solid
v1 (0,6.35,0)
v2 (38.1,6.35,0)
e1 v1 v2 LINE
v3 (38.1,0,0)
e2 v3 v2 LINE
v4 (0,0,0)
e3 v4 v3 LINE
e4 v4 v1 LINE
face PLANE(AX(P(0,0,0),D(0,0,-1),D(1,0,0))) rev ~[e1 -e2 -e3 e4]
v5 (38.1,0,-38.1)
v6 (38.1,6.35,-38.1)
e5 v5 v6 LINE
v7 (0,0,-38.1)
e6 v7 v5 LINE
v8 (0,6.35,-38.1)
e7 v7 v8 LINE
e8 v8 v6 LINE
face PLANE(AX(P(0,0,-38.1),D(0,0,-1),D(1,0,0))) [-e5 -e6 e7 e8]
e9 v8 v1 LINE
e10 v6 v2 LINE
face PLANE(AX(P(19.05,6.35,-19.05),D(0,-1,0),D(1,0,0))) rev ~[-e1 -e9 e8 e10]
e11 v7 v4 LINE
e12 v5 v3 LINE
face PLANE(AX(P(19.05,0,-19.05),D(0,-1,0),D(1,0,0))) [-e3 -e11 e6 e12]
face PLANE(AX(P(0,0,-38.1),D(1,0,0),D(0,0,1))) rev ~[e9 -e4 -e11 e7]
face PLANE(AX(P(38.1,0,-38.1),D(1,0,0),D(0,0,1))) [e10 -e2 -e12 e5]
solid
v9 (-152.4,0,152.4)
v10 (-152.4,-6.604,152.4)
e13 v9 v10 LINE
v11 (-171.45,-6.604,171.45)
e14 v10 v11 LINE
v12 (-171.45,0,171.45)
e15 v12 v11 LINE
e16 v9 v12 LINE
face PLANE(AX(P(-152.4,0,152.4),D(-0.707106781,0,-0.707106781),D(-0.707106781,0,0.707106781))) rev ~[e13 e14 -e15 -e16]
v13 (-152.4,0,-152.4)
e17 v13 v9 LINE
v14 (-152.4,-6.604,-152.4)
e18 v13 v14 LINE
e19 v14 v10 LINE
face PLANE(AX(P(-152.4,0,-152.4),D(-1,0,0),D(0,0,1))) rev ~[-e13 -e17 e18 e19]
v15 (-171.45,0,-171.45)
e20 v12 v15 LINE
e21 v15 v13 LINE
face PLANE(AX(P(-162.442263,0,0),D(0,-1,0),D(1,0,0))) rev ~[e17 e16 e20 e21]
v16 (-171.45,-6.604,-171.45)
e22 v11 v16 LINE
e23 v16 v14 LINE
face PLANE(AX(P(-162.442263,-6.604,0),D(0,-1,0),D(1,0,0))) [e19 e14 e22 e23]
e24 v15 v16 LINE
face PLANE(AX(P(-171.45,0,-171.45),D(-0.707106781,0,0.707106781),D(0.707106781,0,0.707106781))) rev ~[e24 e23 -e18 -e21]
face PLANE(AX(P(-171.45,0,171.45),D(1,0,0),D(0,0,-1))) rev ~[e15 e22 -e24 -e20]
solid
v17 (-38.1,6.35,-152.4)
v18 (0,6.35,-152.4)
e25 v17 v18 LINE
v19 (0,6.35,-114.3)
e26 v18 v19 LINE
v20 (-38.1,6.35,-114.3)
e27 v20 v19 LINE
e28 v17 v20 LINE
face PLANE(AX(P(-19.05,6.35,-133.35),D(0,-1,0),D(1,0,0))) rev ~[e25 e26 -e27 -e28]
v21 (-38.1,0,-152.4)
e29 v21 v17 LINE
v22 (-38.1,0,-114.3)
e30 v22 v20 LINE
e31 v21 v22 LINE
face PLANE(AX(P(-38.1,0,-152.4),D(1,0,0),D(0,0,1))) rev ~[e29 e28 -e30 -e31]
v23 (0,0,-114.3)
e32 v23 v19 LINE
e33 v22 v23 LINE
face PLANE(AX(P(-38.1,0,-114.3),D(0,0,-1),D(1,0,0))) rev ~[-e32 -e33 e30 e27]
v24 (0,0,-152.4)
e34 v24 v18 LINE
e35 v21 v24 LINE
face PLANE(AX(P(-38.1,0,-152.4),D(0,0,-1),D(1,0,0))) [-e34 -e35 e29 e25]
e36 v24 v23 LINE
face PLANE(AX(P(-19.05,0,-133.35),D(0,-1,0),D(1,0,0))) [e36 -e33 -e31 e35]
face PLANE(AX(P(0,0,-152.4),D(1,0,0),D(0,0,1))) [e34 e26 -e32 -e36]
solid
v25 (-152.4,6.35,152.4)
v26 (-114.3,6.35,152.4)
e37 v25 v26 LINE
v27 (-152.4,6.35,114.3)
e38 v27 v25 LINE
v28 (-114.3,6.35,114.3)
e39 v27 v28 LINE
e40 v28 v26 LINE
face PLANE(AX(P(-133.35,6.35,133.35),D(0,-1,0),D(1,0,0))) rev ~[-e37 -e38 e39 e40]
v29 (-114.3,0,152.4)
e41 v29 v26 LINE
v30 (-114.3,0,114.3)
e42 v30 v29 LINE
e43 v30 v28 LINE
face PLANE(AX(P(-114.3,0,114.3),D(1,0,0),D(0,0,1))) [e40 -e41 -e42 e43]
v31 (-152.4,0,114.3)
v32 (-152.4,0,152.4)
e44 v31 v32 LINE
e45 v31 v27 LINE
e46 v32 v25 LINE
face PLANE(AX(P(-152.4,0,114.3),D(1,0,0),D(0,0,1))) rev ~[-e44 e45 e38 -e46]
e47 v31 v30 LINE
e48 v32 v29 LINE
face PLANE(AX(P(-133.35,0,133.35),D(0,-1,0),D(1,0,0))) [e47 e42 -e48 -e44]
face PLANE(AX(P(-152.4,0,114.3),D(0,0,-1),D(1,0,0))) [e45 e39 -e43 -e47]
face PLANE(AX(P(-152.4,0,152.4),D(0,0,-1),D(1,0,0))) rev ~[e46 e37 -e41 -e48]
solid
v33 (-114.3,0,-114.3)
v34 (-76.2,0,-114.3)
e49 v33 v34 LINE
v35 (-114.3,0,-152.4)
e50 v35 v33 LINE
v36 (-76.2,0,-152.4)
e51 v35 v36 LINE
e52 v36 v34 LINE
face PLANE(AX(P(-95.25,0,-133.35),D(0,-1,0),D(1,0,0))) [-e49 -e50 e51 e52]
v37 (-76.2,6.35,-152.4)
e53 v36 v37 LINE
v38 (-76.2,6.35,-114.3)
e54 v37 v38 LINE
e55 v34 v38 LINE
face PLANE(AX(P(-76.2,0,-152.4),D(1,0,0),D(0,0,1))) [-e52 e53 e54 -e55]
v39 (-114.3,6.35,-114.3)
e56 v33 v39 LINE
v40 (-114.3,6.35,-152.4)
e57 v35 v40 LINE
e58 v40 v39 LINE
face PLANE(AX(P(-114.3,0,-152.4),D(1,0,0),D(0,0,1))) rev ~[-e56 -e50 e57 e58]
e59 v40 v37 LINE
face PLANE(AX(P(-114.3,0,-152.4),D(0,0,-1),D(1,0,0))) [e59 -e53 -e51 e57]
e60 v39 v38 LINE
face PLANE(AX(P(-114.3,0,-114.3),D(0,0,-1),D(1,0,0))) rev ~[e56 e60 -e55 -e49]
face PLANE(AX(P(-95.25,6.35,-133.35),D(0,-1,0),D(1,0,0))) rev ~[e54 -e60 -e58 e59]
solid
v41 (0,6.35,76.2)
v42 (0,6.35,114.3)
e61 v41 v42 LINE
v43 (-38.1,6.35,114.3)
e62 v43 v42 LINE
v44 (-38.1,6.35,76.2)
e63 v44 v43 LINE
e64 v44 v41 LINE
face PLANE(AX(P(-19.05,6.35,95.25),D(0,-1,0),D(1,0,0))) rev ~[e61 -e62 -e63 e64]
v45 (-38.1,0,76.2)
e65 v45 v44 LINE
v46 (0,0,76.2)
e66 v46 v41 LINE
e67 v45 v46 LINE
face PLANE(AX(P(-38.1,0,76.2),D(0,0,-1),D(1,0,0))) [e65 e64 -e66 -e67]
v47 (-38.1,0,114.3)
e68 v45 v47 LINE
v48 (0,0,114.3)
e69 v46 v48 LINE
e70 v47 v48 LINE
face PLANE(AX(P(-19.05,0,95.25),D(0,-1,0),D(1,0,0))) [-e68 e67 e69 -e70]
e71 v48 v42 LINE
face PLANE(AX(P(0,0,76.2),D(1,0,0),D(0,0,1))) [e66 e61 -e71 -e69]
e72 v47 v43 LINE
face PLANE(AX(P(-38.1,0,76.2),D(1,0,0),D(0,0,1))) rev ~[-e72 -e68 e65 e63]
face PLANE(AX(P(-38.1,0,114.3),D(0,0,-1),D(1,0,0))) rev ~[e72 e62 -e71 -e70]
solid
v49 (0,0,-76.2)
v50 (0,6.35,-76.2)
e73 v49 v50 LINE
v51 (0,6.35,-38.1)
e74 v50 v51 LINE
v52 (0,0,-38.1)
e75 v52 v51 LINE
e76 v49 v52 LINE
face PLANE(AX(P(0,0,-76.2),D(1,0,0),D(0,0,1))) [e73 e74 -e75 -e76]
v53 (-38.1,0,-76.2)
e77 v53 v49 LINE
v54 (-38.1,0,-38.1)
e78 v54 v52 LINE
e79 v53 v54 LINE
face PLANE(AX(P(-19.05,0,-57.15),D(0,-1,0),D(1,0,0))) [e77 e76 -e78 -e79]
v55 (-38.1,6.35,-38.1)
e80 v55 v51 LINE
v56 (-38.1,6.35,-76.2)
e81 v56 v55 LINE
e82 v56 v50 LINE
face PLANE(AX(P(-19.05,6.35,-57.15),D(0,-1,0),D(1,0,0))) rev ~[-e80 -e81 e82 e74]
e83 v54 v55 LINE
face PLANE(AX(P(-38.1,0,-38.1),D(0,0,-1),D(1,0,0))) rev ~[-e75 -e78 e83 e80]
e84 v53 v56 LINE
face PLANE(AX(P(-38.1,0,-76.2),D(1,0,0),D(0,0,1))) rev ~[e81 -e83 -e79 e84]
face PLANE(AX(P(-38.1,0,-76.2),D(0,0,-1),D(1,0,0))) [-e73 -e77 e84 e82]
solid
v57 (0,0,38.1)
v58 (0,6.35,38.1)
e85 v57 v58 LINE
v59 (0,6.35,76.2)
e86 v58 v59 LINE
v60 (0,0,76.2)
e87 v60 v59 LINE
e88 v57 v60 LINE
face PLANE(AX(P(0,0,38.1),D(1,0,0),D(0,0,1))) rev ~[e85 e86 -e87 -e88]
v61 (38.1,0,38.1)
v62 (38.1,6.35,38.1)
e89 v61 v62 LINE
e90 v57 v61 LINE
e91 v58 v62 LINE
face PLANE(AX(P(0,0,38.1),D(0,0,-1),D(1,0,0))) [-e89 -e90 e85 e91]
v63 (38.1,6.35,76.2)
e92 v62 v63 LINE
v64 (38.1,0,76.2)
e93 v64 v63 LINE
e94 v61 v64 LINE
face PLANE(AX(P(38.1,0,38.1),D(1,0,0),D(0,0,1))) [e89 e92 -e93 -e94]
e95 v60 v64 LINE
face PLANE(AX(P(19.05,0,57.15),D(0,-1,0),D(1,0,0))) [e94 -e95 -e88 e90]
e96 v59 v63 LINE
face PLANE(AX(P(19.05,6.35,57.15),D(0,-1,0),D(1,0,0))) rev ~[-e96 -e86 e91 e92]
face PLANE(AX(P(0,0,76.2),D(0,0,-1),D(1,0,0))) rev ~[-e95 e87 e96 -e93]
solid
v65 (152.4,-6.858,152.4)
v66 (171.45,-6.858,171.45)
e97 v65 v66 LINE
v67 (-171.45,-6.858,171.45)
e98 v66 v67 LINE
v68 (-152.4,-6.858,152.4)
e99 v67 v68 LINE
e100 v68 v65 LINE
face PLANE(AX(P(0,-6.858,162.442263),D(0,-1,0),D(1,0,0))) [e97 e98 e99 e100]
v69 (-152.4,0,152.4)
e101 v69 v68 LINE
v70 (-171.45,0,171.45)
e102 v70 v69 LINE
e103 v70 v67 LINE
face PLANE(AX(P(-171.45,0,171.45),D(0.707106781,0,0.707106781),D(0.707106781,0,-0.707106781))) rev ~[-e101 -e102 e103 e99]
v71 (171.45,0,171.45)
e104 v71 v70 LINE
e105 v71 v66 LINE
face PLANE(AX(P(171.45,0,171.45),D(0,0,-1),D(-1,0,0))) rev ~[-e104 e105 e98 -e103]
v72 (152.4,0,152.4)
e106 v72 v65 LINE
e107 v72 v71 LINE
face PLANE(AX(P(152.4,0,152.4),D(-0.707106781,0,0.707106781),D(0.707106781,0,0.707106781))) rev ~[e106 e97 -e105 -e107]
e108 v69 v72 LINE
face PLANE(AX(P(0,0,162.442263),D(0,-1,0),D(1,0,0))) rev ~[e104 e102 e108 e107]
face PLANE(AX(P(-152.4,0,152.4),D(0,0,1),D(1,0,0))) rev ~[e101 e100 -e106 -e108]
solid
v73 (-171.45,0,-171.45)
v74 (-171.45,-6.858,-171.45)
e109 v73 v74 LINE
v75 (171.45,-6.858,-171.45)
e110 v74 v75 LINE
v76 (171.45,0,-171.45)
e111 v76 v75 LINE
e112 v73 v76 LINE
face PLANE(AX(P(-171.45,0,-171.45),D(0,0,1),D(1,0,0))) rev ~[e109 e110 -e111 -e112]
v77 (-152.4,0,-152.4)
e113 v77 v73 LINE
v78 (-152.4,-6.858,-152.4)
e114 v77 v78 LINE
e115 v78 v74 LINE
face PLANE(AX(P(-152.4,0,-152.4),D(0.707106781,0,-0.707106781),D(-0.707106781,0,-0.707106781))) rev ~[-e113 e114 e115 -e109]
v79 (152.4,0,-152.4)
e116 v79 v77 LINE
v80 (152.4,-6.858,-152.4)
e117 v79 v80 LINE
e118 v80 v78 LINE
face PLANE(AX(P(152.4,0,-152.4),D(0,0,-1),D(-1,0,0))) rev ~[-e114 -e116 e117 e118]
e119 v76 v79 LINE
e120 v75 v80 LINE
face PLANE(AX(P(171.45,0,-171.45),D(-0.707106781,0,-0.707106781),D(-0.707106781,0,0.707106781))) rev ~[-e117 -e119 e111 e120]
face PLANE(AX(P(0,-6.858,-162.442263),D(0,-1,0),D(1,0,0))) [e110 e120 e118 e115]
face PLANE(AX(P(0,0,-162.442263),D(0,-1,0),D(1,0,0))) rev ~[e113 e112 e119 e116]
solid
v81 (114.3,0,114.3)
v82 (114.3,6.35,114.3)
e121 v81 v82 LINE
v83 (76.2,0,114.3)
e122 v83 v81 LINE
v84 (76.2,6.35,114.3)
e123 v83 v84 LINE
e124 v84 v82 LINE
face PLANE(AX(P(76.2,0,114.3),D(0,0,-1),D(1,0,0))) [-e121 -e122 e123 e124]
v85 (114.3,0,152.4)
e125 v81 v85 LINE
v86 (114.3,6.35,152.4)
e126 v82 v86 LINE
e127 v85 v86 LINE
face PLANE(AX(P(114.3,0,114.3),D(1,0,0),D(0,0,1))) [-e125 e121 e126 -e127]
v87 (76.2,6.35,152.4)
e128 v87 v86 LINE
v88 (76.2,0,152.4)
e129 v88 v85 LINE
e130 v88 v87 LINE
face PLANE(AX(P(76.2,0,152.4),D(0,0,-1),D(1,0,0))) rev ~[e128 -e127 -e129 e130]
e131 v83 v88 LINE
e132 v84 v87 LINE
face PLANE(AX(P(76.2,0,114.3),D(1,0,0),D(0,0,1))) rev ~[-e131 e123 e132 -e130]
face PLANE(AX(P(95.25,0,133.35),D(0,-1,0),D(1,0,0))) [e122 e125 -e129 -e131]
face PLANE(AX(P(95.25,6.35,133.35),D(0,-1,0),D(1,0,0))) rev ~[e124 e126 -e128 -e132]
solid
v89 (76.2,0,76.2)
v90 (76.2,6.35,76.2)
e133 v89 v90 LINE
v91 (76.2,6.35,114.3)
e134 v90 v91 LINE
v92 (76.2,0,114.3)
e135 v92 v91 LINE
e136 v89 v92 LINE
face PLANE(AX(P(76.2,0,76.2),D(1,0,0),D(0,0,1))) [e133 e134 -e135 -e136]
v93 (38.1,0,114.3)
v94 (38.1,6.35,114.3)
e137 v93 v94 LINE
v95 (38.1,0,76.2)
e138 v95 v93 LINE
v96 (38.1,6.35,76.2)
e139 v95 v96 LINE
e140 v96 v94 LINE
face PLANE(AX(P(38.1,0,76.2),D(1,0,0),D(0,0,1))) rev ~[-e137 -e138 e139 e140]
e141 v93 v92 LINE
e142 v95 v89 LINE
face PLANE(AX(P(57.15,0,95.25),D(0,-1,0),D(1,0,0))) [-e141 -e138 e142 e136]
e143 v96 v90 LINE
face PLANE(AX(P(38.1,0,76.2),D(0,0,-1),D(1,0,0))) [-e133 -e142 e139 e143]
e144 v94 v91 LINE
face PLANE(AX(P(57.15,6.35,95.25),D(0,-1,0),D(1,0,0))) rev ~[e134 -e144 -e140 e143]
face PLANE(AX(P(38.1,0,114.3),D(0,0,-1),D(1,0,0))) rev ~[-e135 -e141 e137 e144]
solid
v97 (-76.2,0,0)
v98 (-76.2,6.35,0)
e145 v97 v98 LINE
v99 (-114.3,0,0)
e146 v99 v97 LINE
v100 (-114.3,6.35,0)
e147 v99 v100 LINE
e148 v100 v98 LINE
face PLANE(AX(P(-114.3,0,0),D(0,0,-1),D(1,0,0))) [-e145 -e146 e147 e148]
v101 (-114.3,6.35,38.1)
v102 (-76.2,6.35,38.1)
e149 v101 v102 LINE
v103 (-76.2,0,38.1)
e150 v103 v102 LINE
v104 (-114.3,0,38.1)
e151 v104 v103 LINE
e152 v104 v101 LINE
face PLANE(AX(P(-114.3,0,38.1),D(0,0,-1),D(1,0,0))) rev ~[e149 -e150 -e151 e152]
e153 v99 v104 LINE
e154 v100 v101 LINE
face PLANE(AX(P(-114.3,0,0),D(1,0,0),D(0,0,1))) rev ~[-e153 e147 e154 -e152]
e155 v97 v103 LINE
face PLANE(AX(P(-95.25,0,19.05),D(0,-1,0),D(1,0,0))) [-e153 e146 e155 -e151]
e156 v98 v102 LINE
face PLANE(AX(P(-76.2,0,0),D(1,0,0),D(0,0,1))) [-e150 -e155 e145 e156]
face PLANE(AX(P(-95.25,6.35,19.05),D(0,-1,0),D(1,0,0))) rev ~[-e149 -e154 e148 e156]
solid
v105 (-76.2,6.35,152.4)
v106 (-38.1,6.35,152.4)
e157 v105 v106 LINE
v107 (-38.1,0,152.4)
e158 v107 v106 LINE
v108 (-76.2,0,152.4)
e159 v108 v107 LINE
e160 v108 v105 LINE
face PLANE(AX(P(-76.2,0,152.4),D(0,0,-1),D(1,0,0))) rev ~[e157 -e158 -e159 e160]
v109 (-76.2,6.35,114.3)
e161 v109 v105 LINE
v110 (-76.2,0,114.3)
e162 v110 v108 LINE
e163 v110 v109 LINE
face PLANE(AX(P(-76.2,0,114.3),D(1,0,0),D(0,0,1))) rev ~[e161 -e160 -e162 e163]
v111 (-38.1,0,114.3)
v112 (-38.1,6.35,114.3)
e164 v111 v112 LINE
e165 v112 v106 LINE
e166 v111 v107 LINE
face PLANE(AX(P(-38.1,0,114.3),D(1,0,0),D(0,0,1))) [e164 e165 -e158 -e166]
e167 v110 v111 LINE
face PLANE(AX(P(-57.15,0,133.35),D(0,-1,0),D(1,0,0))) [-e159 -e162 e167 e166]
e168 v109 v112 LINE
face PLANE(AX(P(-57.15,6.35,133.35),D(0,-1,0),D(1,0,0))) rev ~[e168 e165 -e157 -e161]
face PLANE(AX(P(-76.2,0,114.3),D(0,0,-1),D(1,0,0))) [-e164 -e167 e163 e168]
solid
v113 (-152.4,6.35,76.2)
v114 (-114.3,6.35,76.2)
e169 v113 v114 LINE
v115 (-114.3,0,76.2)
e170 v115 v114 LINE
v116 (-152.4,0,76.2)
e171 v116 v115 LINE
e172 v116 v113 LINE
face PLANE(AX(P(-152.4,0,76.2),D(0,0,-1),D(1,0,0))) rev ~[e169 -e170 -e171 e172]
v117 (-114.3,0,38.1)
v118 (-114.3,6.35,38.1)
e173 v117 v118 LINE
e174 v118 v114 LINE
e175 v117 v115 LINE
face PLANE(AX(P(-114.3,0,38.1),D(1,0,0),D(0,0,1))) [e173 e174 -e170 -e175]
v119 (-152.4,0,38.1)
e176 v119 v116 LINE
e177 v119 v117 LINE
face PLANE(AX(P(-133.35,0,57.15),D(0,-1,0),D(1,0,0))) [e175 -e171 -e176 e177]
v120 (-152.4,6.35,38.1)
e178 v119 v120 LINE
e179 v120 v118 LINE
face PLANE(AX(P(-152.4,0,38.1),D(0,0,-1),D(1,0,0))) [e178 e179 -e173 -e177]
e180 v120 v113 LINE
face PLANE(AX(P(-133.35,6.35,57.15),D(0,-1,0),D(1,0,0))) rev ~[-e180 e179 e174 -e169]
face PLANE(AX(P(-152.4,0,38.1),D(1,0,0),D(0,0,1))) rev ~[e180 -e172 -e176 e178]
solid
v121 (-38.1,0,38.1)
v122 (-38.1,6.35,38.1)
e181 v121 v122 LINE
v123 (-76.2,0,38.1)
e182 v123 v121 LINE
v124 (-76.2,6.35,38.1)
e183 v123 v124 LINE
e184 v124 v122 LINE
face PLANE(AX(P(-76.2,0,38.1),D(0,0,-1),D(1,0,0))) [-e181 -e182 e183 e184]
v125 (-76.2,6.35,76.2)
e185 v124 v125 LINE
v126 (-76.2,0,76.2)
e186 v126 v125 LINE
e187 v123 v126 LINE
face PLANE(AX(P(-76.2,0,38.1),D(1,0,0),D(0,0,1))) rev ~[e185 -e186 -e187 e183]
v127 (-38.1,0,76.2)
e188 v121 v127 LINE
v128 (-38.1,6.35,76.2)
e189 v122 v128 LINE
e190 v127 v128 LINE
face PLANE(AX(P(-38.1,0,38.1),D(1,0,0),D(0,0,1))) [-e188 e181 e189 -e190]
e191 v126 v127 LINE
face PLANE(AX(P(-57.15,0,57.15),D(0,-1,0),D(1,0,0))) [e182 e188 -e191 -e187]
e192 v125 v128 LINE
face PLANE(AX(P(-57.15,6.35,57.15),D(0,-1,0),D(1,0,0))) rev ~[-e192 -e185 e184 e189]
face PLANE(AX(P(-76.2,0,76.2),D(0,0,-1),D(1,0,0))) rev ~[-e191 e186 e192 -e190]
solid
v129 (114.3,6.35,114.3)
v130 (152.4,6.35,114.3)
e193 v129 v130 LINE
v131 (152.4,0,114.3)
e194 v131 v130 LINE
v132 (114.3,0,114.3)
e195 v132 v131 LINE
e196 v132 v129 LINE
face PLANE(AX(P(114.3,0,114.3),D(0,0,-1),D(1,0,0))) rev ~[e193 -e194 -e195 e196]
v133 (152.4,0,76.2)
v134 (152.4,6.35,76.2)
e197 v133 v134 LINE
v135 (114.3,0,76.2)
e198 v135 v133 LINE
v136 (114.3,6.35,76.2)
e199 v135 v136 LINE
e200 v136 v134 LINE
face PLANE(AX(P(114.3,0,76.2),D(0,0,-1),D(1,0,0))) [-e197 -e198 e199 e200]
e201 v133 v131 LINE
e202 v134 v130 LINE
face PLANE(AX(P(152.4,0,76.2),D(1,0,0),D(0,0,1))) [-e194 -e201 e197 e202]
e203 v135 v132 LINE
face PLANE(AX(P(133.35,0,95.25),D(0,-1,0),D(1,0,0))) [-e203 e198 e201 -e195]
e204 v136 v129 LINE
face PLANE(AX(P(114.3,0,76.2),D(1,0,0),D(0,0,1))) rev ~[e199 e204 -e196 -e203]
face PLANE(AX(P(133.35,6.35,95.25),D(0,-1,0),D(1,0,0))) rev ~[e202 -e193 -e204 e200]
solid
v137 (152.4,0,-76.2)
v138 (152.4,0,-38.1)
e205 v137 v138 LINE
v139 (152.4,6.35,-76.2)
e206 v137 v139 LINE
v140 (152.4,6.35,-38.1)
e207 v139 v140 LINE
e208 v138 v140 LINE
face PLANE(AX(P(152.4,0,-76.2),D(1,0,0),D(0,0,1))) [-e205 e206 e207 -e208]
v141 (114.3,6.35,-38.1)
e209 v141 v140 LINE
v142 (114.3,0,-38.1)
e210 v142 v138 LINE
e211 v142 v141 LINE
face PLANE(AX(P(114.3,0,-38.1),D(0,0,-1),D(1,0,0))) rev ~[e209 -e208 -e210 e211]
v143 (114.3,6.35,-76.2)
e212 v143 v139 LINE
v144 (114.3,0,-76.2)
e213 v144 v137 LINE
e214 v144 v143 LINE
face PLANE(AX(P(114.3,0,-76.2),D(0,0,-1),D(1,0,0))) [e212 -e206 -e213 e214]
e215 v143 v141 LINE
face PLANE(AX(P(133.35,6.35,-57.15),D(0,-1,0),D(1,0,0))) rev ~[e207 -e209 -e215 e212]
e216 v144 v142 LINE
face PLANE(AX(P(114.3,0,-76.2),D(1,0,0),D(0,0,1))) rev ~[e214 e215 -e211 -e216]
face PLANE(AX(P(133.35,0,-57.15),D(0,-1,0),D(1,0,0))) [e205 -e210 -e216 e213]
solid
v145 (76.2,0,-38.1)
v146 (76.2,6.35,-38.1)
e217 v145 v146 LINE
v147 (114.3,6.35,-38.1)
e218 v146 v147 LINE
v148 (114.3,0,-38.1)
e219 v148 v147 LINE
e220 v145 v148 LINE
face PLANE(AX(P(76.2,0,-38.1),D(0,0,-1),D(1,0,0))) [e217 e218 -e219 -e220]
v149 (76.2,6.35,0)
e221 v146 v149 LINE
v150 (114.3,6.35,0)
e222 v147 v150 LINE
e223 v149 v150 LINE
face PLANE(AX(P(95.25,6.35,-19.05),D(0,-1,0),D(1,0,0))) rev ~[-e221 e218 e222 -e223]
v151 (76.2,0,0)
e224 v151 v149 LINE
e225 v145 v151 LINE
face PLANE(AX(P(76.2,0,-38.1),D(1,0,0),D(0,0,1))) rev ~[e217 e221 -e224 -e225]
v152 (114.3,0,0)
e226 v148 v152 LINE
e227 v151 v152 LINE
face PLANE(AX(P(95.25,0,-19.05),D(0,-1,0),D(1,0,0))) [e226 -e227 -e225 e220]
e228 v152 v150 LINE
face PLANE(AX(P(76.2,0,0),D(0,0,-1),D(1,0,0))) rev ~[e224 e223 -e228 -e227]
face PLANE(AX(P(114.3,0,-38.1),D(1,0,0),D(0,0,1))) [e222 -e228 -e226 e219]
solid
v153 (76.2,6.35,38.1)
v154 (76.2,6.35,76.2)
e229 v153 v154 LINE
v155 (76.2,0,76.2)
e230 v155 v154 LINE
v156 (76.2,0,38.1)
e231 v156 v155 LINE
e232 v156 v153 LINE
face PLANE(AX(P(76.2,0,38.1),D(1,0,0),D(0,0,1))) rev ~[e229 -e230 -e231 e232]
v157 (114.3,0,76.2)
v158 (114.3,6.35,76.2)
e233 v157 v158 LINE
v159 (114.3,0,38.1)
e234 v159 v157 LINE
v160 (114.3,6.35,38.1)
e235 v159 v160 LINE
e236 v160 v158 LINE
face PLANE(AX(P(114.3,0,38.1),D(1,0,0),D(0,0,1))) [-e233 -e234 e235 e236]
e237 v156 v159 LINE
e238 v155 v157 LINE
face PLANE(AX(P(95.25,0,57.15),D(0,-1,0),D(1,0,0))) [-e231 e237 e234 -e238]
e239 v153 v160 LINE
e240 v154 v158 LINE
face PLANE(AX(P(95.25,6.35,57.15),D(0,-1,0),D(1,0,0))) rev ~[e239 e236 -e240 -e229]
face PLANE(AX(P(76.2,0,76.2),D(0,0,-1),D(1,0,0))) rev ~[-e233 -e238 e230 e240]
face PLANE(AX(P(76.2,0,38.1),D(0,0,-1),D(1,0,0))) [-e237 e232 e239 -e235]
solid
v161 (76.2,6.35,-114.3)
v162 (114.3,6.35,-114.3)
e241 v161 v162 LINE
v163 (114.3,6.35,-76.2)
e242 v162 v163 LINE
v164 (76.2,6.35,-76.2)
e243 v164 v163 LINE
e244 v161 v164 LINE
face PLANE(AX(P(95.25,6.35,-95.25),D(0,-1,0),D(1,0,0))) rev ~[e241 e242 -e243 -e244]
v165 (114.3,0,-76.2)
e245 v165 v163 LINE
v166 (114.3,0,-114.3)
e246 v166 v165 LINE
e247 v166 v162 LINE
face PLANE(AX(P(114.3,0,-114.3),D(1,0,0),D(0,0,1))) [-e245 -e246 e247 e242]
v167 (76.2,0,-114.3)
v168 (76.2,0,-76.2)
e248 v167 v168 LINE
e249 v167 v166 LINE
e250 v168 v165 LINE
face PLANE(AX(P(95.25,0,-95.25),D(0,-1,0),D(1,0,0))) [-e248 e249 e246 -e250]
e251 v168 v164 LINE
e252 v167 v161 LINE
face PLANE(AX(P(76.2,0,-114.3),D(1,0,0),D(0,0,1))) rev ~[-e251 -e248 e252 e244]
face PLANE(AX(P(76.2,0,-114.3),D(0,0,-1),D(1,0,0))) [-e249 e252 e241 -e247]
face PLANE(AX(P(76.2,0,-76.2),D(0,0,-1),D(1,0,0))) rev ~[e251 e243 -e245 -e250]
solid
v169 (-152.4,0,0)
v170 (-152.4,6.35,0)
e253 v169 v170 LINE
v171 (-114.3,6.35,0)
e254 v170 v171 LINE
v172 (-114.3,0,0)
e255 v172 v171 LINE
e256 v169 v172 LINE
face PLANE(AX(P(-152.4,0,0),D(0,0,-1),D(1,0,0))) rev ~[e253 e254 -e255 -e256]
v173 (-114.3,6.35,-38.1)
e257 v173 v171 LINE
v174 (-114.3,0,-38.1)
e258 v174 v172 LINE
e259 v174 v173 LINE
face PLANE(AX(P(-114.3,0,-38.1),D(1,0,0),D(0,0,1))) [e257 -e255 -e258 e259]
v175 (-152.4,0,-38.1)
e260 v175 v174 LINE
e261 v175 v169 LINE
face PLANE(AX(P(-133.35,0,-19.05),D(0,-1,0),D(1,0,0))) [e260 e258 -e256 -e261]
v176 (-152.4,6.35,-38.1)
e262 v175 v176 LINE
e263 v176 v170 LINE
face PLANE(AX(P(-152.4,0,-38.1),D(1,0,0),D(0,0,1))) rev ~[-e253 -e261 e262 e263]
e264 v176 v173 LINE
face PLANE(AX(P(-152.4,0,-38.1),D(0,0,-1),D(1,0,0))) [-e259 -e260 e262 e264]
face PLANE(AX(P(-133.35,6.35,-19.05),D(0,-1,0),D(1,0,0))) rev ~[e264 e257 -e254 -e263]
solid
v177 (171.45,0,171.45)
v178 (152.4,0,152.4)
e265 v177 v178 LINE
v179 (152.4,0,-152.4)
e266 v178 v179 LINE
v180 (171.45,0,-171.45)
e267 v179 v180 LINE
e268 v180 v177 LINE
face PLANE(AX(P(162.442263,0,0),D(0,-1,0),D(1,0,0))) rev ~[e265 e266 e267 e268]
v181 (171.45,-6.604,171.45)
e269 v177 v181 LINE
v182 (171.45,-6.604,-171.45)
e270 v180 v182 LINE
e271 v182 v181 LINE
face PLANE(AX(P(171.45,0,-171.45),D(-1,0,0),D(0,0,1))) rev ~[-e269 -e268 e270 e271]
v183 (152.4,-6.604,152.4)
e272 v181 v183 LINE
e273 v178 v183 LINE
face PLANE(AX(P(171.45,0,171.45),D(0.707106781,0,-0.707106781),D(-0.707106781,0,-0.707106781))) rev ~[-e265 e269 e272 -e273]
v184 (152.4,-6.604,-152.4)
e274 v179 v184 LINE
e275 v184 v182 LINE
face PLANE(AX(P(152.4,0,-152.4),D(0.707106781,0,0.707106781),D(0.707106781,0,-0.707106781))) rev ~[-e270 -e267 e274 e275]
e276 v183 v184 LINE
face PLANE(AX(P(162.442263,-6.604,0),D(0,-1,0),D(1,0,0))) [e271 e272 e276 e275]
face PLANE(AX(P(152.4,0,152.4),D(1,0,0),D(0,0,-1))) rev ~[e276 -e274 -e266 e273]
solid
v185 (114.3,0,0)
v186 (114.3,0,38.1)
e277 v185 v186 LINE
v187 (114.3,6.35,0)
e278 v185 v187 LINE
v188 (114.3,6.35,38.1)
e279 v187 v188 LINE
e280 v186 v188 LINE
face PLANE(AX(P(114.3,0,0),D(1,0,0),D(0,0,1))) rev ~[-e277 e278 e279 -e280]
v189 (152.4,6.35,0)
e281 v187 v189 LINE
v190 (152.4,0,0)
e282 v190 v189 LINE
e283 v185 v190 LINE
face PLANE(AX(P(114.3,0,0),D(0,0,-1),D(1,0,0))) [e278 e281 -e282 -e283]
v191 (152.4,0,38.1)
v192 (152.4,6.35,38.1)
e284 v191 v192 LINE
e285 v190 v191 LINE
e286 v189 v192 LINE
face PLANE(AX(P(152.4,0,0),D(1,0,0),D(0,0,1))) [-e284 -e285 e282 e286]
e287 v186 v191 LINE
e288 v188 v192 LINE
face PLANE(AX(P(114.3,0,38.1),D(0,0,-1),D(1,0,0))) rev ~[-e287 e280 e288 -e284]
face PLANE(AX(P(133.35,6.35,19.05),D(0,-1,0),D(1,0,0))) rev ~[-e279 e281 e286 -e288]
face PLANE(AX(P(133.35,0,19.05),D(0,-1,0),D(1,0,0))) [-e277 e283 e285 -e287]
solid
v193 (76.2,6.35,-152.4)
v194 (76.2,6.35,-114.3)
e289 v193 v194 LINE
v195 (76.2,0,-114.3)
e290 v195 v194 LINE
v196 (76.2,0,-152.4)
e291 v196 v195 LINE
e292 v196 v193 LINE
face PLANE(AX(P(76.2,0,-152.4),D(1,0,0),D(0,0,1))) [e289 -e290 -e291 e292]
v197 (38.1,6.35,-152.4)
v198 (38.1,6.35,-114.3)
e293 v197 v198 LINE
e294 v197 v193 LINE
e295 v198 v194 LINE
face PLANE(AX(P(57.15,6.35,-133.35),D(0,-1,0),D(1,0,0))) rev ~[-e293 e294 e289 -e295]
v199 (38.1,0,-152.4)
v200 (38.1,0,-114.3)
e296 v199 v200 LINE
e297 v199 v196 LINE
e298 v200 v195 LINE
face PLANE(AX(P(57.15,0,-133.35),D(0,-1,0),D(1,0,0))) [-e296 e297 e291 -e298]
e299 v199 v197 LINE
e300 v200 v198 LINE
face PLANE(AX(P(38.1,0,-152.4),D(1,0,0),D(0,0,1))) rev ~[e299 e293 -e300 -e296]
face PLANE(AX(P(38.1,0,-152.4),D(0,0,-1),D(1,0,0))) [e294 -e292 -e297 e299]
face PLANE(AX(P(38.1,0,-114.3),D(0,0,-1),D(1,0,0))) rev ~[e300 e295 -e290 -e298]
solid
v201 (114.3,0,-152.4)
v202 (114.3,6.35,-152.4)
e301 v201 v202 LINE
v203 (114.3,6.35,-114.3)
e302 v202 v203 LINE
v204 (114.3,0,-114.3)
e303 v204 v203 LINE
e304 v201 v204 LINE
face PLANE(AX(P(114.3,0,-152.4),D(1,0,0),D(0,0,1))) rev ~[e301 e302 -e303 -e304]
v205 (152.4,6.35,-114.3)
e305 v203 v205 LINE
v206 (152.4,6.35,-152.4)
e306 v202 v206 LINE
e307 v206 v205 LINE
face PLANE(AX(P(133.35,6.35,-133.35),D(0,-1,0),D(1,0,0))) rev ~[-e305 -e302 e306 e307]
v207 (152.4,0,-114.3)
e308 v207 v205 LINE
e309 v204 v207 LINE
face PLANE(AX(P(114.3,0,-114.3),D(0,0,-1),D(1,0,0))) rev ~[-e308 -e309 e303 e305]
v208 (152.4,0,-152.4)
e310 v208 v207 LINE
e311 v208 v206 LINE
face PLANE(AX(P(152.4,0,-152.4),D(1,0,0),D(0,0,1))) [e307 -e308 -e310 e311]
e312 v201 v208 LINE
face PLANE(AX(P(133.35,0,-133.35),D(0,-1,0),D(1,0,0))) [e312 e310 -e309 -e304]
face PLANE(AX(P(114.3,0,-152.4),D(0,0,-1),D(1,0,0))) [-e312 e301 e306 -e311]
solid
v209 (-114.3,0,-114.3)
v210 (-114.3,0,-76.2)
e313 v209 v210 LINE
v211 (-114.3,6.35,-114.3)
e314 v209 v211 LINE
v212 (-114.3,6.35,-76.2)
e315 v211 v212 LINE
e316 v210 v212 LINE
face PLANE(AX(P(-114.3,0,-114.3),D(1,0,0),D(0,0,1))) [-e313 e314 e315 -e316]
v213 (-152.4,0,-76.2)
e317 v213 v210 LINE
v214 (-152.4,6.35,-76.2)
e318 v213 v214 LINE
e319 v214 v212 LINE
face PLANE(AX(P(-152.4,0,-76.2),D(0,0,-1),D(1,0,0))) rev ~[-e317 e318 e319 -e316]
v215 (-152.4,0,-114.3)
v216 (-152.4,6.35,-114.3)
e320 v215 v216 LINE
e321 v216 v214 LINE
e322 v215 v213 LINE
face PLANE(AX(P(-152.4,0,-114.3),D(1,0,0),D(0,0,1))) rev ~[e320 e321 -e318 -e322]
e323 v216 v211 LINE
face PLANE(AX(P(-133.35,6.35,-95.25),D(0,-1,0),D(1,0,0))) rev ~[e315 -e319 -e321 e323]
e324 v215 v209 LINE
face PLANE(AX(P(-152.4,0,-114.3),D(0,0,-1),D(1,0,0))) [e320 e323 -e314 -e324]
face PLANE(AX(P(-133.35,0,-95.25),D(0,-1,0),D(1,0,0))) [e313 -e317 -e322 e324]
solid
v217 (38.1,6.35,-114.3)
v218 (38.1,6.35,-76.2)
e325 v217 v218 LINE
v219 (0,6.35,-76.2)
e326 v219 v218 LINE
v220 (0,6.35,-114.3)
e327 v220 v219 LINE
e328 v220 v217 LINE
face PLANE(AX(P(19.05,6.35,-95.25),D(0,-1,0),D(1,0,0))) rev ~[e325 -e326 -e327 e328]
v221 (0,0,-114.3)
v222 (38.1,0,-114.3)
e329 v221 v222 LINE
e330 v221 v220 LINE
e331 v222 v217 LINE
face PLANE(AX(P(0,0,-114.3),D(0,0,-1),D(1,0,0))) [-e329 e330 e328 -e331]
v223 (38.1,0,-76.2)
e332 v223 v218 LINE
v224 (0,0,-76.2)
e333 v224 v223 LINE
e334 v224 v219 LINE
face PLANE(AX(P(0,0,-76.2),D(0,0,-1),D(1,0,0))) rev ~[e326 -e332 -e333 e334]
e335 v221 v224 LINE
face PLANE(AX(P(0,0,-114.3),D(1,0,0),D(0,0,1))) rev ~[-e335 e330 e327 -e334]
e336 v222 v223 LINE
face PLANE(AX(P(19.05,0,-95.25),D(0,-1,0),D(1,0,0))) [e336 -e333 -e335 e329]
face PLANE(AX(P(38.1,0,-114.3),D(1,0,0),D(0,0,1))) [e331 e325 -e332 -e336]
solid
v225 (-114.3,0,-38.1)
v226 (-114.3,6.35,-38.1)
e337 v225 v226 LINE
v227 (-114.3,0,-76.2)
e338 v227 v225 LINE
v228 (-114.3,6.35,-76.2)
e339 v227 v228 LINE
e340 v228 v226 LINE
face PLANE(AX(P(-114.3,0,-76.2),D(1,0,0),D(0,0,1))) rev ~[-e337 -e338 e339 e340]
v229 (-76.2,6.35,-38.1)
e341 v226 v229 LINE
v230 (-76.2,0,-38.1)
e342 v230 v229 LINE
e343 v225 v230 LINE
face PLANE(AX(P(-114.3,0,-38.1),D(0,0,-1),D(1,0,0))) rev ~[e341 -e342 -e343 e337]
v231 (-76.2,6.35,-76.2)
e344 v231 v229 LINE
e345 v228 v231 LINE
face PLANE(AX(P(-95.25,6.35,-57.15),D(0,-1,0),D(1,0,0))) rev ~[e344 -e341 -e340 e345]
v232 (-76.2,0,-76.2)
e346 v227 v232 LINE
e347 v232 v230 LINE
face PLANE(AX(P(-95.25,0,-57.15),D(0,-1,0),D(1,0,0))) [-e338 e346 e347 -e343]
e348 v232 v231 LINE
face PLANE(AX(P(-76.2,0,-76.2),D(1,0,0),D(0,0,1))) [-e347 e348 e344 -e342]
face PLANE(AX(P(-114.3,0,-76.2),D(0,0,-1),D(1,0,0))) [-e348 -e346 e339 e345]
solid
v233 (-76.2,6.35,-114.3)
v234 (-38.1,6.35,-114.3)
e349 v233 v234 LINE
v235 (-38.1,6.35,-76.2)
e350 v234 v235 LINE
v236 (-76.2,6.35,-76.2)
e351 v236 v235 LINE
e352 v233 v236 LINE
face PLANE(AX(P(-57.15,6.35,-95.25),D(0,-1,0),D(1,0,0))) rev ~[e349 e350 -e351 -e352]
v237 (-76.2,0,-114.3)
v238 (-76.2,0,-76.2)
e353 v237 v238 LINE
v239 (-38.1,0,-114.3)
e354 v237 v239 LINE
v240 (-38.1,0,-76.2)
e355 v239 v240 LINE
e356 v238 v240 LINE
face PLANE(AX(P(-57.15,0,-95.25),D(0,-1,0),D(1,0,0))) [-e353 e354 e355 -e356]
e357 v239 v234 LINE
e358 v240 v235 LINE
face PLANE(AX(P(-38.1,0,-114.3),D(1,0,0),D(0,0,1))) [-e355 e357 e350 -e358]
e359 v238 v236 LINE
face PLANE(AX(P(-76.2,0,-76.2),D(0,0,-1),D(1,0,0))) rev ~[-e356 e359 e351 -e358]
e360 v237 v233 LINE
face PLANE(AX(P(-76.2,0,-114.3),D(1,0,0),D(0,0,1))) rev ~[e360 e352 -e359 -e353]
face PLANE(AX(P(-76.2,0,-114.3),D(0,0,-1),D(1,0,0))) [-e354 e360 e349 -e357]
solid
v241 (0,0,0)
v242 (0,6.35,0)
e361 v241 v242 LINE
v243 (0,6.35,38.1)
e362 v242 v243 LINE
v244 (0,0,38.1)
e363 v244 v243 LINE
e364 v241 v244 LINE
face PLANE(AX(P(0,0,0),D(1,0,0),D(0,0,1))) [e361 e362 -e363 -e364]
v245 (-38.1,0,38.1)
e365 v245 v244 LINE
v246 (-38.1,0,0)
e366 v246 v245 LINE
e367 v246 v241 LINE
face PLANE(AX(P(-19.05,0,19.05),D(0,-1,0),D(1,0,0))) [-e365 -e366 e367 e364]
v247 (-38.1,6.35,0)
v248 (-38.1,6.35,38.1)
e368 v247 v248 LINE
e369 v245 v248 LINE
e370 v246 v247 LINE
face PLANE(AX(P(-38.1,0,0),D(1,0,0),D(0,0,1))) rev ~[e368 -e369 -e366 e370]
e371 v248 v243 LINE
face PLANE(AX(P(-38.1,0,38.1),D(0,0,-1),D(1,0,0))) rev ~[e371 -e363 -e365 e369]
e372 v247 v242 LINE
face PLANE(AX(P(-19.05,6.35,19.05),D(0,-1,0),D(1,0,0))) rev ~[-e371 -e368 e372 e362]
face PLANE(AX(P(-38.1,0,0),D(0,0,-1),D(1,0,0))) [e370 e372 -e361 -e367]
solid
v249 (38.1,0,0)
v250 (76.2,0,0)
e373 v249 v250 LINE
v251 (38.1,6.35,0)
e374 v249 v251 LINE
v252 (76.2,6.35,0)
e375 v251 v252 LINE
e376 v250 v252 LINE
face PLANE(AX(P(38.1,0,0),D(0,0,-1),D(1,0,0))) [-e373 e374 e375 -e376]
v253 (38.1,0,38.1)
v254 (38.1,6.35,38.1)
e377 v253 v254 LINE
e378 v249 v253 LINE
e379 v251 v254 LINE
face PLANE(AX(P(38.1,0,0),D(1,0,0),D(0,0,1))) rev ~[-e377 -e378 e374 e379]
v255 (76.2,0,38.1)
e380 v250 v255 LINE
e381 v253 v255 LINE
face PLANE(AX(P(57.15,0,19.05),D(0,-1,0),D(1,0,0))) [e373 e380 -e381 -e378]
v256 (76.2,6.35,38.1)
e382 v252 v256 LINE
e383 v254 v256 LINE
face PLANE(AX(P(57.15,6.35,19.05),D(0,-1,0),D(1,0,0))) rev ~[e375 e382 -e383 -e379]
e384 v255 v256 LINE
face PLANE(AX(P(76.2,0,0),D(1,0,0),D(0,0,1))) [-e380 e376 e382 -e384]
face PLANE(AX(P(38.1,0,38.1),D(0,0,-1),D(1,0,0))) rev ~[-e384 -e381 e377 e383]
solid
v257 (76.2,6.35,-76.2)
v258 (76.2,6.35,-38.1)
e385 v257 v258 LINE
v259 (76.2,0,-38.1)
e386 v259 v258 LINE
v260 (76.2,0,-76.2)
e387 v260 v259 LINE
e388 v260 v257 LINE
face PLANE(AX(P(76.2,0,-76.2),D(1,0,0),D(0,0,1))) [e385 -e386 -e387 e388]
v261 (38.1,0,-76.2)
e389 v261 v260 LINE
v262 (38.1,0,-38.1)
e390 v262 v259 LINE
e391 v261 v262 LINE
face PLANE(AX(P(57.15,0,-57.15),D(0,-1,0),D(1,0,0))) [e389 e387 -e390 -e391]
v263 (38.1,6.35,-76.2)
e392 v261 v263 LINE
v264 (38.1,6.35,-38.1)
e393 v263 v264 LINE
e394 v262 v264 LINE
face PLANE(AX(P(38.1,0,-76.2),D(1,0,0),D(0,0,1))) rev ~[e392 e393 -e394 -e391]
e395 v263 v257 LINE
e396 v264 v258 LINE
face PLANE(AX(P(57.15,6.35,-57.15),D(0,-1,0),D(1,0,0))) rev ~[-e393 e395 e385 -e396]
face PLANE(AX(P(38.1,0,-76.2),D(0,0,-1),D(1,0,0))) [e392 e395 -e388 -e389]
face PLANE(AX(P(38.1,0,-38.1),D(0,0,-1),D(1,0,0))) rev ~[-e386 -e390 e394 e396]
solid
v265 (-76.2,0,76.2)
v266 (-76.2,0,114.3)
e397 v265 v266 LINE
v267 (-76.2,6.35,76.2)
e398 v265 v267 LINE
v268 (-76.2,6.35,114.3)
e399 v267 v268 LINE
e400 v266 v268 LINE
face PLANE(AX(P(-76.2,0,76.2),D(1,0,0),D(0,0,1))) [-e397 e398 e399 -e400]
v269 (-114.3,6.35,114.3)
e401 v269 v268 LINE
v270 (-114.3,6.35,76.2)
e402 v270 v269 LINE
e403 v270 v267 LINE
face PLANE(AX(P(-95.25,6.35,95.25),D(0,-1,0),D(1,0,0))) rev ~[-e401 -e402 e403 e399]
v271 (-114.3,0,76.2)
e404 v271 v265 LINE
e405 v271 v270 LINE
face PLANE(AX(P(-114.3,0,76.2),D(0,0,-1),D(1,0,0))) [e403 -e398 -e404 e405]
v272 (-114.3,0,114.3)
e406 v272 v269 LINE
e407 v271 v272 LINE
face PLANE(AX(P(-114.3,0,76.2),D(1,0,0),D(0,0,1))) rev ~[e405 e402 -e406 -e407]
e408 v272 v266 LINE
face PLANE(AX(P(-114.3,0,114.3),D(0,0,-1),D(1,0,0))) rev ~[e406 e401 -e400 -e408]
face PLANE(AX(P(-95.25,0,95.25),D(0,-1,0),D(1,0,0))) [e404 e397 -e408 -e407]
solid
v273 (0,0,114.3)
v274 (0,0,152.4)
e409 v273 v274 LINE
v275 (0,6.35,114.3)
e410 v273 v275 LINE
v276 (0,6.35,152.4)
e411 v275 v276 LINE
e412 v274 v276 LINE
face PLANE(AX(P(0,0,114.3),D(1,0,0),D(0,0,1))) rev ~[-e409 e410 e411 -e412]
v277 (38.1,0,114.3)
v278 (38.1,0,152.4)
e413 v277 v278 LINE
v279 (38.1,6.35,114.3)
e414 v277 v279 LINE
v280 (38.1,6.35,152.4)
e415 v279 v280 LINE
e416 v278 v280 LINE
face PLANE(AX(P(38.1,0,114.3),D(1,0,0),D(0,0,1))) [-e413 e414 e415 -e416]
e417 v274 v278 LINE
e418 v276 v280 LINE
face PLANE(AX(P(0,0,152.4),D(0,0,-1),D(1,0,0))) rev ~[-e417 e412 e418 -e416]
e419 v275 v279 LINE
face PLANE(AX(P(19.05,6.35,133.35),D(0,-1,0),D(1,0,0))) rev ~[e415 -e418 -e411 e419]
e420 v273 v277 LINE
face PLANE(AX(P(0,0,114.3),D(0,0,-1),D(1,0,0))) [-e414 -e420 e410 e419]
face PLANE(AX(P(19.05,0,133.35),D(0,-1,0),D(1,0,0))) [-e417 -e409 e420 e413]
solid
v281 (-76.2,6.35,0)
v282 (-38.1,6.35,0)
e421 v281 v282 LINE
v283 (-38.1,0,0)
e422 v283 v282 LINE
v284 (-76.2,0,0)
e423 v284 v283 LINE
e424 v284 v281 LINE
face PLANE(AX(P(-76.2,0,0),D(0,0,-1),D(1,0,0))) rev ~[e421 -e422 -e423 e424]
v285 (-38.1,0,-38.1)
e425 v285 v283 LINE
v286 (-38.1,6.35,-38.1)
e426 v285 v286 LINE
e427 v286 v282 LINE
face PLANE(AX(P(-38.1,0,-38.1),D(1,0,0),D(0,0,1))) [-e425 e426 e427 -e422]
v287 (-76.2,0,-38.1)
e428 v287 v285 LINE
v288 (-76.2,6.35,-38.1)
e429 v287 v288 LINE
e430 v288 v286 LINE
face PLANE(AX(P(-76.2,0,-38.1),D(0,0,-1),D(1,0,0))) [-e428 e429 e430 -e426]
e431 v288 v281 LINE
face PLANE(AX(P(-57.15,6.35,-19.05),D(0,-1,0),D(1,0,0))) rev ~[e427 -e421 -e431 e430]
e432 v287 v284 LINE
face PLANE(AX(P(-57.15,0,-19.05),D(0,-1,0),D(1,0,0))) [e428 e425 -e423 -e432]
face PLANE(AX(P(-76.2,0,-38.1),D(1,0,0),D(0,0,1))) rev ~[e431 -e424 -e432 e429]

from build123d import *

# Parameters (mm, degrees)
F0_W     = 38.1
F0_H     = 38.1
F1_DEPTH = 6.35
F2_DEPTH = 6.604
F3_DEPTH = 6.858


with BuildPart() as f1:
    # F0 (on Front) → F1 (new body)
    with BuildSketch(Plane.XZ):
        with Locations((-133.35, 57.15)):
            Rectangle(F0_W, F0_H)
    extrude(amount=-F1_DEPTH)


with BuildPart() as f1b:
    # F0 (on Front) → F1, piece 2 (new body)
    with BuildSketch(Plane.XZ):
        with Locations((-95.25, 95.25)):
            Rectangle(F0_W, F0_H)
    extrude(amount=-F1_DEPTH)


with BuildPart() as f1c:
    # F0 (on Front) → F1, piece 3 (new body)
    with BuildSketch(Plane.XZ):
        with Locations((-57.15, 57.15)):
            Rectangle(F0_W, F0_H)
    extrude(amount=-F1_DEPTH)


with BuildPart() as f1d:
    # F0 (on Front) → F1, piece 4 (new body)
    with BuildSketch(Plane.XZ):
        with Locations((-57.15, 133.35)):
            Rectangle(F0_W, F0_H)
    extrude(amount=-F1_DEPTH)


with BuildPart() as f1e:
    # F0 (on Front) → F1, piece 5 (new body)
    with BuildSketch(Plane.XZ):
        with Locations((19.05, 133.35)):
            Rectangle(F0_W, F0_H)
    extrude(amount=-F1_DEPTH)


with BuildPart() as f1f:
    # F0 (on Front) → F1, piece 6 (new body)
    with BuildSketch(Plane.XZ):
        with Locations((19.05, 57.15)):
            Rectangle(F0_W, F0_H)
    extrude(amount=-F1_DEPTH)


with BuildPart() as f1g:
    # F0 (on Front) → F1, piece 7 (new body)
    with BuildSketch(Plane.XZ):
        with Locations((-19.05, 95.25)):
            Rectangle(F0_W, F0_H)
    extrude(amount=-F1_DEPTH)


with BuildPart() as f1h:
    # F0 (on Front) → F1, piece 8 (new body)
    with BuildSketch(Plane.XZ):
        with Locations((57.15, 95.25)):
            Rectangle(F0_W, F0_H)
    extrude(amount=-F1_DEPTH)


with BuildPart() as f1i:
    # F0 (on Front) → F1, piece 9 (new body)
    with BuildSketch(Plane.XZ):
        with Locations((133.35, 95.25)):
            Rectangle(F0_W, F0_H)
    extrude(amount=-F1_DEPTH)


with BuildPart() as f1j:
    # F0 (on Front) → F1, piece 10 (new body)
    with BuildSketch(Plane.XZ):
        with Locations((95.25, 133.35)):
            Rectangle(F0_W, F0_H)
    extrude(amount=-F1_DEPTH)


with BuildPart() as f1k:
    # F0 (on Front) → F1, piece 11 (new body)
    with BuildSketch(Plane.XZ):
        with Locations((95.25, 57.15)):
            Rectangle(F0_W, F0_H)
    extrude(amount=-F1_DEPTH)


with BuildPart() as f1l:
    # F0 (on Front) → F1, piece 12 (new body)
    with BuildSketch(Plane.XZ):
        with Locations((-133.35, -19.05)):
            Rectangle(F0_W, F0_H)
    extrude(amount=-F1_DEPTH)


with BuildPart() as f1m:
    # F0 (on Front) → F1, piece 13 (new body)
    with BuildSketch(Plane.XZ):
        with Locations((-133.35, -95.25)):
            Rectangle(F0_W, F0_H)
    extrude(amount=-F1_DEPTH)


with BuildPart() as f1n:
    # F0 (on Front) → F1, piece 14 (new body)
    with BuildSketch(Plane.XZ):
        with Locations((-95.25, -133.35)):
            Rectangle(F0_W, F0_H)
    extrude(amount=-F1_DEPTH)


with BuildPart() as f1o:
    # F0 (on Front) → F1, piece 15 (new body)
    with BuildSketch(Plane.XZ):
        with Locations((-95.25, -57.15)):
            Rectangle(F0_W, F0_H)
    extrude(amount=-F1_DEPTH)


with BuildPart() as f1p:
    # F0 (on Front) → F1, piece 16 (new body)
    with BuildSketch(Plane.XZ):
        with Locations((-95.25, 19.05)):
            Rectangle(F0_W, F0_H)
    extrude(amount=-F1_DEPTH)


with BuildPart() as f1q:
    # F0 (on Front) → F1, piece 17 (new body)
    with BuildSketch(Plane.XZ):
        with Locations((-57.15, -19.05)):
            Rectangle(F0_W, F0_H)
    extrude(amount=-F1_DEPTH)


with BuildPart() as f1r:
    # F0 (on Front) → F1, piece 18 (new body)
    with BuildSketch(Plane.XZ):
        with Locations((-57.15, -95.25)):
            Rectangle(F0_W, F0_H)
    extrude(amount=-F1_DEPTH)


with BuildPart() as f1s:
    # F0 (on Front) → F1, piece 19 (new body)
    with BuildSketch(Plane.XZ):
        with Locations((-19.05, -57.15)):
            Rectangle(F0_W, F0_H)
    extrude(amount=-F1_DEPTH)


with BuildPart() as f1t:
    # F0 (on Front) → F1, piece 20 (new body)
    with BuildSketch(Plane.XZ):
        with Locations((-19.05, 19.05)):
            Rectangle(F0_W, F0_H)
    extrude(amount=-F1_DEPTH)


with BuildPart() as f1u:
    # F0 (on Front) → F1, piece 21 (new body)
    with BuildSketch(Plane.XZ):
        with Locations((19.05, -19.05)):
            Rectangle(F0_W, F0_H)
    extrude(amount=-F1_DEPTH)


with BuildPart() as f1v:
    # F0 (on Front) → F1, piece 22 (new body)
    with BuildSketch(Plane.XZ):
        with Locations((19.05, -95.25)):
            Rectangle(F0_W, F0_H)
    extrude(amount=-F1_DEPTH)


with BuildPart() as f1w:
    # F0 (on Front) → F1, piece 23 (new body)
    with BuildSketch(Plane.XZ):
        with Locations((57.15, -133.35)):
            Rectangle(F0_W, F0_H)
    extrude(amount=-F1_DEPTH)


with BuildPart() as f1x:
    # F0 (on Front) → F1, piece 24 (new body)
    with BuildSketch(Plane.XZ):
        with Locations((57.15, -57.15)):
            Rectangle(F0_W, F0_H)
    extrude(amount=-F1_DEPTH)


with BuildPart() as f1y:
    # F0 (on Front) → F1, piece 25 (new body)
    with BuildSketch(Plane.XZ):
        with Locations((57.15, 19.05)):
            Rectangle(F0_W, F0_H)
    extrude(amount=-F1_DEPTH)


with BuildPart() as f1z:
    # F0 (on Front) → F1, piece 26 (new body)
    with BuildSketch(Plane.XZ):
        with Locations((95.25, -19.05)):
            Rectangle(F0_W, F0_H)
    extrude(amount=-F1_DEPTH)


with BuildPart() as f1ba:
    # F0 (on Front) → F1, piece 27 (new body)
    with BuildSketch(Plane.XZ):
        with Locations((95.25, -95.25)):
            Rectangle(F0_W, F0_H)
    extrude(amount=-F1_DEPTH)


with BuildPart() as f1bb:
    # F0 (on Front) → F1, piece 28 (new body)
    with BuildSketch(Plane.XZ):
        with Locations((133.35, -57.15)):
            Rectangle(F0_W, F0_H)
    extrude(amount=-F1_DEPTH)


with BuildPart() as f1bc:
    # F0 (on Front) → F1, piece 29 (new body)
    with BuildSketch(Plane.XZ):
        with Locations((133.35, 19.05)):
            Rectangle(F0_W, F0_H)
    extrude(amount=-F1_DEPTH)


with BuildPart() as f1bd:
    # F0 (on Front) → F1, piece 30 (new body)
    with BuildSketch(Plane.XZ):
        with Locations((133.35, -133.35)):
            Rectangle(F0_W, F0_H)
    extrude(amount=-F1_DEPTH)


with BuildPart() as f1be:
    # F0 (on Front) → F1, piece 31 (new body)
    with BuildSketch(Plane.XZ):
        with Locations((-19.05, -133.35)):
            Rectangle(F0_W, F0_H)
    extrude(amount=-F1_DEPTH)


with BuildPart() as f1bf:
    # F0 (on Front) → F1, piece 32 (new body)
    with BuildSketch(Plane.XZ):
        with Locations((-133.35, 133.35)):
            Rectangle(F0_W, F0_H)
    extrude(amount=-F1_DEPTH)


with BuildPart() as f2:
    # F0 (on Front) → F2 (new body)
    with BuildSketch(Plane.XZ):
        Polygon((-152.4, 152.4), (-171.45, 171.45), (-171.45, -171.45), (-152.4, -152.4), (-152.4, -114.3), (-152.4, -76.2), (-152.4, -38.1), (-152.4, 0), (-152.4, 38.1), (-152.4, 76.2), (-152.4, 114.3), align=None)
    extrude(amount=F2_DEPTH)


with BuildPart() as f2b:
    # F0 (on Front) → F2, piece 2 (new body)
    with BuildSketch(Plane.XZ):
        Polygon((171.45, -171.45), (171.45, 171.45), (152.4, 152.4), (152.4, 114.3), (152.4, 76.2), (152.4, 38.1), (152.4, 0), (152.4, -38.1), (152.4, -76.2), (152.4, -114.3), (152.4, -152.4), align=None)
    extrude(amount=F2_DEPTH)


with BuildPart() as f3:
    # F0 (on Front) → F3 (new body)
    with BuildSketch(Plane.XZ):
        Polygon((-152.4, -152.4), (-171.45, -171.45), (171.45, -171.45), (152.4, -152.4), (114.3, -152.4), (76.2, -152.4), (38.1, -152.4), (0, -152.4), (-38.1, -152.4), (-76.2, -152.4), (-114.3, -152.4), align=None)
    extrude(amount=F3_DEPTH)


with BuildPart() as f3b:
    # F0 (on Front) → F3, piece 2 (new body)
    with BuildSketch(Plane.XZ):
        Polygon((171.45, 171.45), (-171.45, 171.45), (-152.4, 152.4), (-114.3, 152.4), (-76.2, 152.4), (-38.1, 152.4), (0, 152.4), (38.1, 152.4), (76.2, 152.4), (114.3, 152.4), (152.4, 152.4), align=None)
    extrude(amount=F3_DEPTH)


solid = Compound([f1.part, f1b.part, f1c.part, f1d.part, f1e.part, f1f.part, f1g.part, f1h.part, f1i.part, f1j.part, f1k.part, f1l.part, f1m.part, f1n.part, f1o.part, f1p.part, f1q.part, f1r.part, f1s.part, f1t.part, f1u.part, f1v.part, f1w.part, f1x.part, f1y.part, f1z.part, f1ba.part, f1bb.part, f1bc.part, f1bd.part, f1be.part, f1bf.part, f2.part, f2b.part, f3.part, f3b.part])
